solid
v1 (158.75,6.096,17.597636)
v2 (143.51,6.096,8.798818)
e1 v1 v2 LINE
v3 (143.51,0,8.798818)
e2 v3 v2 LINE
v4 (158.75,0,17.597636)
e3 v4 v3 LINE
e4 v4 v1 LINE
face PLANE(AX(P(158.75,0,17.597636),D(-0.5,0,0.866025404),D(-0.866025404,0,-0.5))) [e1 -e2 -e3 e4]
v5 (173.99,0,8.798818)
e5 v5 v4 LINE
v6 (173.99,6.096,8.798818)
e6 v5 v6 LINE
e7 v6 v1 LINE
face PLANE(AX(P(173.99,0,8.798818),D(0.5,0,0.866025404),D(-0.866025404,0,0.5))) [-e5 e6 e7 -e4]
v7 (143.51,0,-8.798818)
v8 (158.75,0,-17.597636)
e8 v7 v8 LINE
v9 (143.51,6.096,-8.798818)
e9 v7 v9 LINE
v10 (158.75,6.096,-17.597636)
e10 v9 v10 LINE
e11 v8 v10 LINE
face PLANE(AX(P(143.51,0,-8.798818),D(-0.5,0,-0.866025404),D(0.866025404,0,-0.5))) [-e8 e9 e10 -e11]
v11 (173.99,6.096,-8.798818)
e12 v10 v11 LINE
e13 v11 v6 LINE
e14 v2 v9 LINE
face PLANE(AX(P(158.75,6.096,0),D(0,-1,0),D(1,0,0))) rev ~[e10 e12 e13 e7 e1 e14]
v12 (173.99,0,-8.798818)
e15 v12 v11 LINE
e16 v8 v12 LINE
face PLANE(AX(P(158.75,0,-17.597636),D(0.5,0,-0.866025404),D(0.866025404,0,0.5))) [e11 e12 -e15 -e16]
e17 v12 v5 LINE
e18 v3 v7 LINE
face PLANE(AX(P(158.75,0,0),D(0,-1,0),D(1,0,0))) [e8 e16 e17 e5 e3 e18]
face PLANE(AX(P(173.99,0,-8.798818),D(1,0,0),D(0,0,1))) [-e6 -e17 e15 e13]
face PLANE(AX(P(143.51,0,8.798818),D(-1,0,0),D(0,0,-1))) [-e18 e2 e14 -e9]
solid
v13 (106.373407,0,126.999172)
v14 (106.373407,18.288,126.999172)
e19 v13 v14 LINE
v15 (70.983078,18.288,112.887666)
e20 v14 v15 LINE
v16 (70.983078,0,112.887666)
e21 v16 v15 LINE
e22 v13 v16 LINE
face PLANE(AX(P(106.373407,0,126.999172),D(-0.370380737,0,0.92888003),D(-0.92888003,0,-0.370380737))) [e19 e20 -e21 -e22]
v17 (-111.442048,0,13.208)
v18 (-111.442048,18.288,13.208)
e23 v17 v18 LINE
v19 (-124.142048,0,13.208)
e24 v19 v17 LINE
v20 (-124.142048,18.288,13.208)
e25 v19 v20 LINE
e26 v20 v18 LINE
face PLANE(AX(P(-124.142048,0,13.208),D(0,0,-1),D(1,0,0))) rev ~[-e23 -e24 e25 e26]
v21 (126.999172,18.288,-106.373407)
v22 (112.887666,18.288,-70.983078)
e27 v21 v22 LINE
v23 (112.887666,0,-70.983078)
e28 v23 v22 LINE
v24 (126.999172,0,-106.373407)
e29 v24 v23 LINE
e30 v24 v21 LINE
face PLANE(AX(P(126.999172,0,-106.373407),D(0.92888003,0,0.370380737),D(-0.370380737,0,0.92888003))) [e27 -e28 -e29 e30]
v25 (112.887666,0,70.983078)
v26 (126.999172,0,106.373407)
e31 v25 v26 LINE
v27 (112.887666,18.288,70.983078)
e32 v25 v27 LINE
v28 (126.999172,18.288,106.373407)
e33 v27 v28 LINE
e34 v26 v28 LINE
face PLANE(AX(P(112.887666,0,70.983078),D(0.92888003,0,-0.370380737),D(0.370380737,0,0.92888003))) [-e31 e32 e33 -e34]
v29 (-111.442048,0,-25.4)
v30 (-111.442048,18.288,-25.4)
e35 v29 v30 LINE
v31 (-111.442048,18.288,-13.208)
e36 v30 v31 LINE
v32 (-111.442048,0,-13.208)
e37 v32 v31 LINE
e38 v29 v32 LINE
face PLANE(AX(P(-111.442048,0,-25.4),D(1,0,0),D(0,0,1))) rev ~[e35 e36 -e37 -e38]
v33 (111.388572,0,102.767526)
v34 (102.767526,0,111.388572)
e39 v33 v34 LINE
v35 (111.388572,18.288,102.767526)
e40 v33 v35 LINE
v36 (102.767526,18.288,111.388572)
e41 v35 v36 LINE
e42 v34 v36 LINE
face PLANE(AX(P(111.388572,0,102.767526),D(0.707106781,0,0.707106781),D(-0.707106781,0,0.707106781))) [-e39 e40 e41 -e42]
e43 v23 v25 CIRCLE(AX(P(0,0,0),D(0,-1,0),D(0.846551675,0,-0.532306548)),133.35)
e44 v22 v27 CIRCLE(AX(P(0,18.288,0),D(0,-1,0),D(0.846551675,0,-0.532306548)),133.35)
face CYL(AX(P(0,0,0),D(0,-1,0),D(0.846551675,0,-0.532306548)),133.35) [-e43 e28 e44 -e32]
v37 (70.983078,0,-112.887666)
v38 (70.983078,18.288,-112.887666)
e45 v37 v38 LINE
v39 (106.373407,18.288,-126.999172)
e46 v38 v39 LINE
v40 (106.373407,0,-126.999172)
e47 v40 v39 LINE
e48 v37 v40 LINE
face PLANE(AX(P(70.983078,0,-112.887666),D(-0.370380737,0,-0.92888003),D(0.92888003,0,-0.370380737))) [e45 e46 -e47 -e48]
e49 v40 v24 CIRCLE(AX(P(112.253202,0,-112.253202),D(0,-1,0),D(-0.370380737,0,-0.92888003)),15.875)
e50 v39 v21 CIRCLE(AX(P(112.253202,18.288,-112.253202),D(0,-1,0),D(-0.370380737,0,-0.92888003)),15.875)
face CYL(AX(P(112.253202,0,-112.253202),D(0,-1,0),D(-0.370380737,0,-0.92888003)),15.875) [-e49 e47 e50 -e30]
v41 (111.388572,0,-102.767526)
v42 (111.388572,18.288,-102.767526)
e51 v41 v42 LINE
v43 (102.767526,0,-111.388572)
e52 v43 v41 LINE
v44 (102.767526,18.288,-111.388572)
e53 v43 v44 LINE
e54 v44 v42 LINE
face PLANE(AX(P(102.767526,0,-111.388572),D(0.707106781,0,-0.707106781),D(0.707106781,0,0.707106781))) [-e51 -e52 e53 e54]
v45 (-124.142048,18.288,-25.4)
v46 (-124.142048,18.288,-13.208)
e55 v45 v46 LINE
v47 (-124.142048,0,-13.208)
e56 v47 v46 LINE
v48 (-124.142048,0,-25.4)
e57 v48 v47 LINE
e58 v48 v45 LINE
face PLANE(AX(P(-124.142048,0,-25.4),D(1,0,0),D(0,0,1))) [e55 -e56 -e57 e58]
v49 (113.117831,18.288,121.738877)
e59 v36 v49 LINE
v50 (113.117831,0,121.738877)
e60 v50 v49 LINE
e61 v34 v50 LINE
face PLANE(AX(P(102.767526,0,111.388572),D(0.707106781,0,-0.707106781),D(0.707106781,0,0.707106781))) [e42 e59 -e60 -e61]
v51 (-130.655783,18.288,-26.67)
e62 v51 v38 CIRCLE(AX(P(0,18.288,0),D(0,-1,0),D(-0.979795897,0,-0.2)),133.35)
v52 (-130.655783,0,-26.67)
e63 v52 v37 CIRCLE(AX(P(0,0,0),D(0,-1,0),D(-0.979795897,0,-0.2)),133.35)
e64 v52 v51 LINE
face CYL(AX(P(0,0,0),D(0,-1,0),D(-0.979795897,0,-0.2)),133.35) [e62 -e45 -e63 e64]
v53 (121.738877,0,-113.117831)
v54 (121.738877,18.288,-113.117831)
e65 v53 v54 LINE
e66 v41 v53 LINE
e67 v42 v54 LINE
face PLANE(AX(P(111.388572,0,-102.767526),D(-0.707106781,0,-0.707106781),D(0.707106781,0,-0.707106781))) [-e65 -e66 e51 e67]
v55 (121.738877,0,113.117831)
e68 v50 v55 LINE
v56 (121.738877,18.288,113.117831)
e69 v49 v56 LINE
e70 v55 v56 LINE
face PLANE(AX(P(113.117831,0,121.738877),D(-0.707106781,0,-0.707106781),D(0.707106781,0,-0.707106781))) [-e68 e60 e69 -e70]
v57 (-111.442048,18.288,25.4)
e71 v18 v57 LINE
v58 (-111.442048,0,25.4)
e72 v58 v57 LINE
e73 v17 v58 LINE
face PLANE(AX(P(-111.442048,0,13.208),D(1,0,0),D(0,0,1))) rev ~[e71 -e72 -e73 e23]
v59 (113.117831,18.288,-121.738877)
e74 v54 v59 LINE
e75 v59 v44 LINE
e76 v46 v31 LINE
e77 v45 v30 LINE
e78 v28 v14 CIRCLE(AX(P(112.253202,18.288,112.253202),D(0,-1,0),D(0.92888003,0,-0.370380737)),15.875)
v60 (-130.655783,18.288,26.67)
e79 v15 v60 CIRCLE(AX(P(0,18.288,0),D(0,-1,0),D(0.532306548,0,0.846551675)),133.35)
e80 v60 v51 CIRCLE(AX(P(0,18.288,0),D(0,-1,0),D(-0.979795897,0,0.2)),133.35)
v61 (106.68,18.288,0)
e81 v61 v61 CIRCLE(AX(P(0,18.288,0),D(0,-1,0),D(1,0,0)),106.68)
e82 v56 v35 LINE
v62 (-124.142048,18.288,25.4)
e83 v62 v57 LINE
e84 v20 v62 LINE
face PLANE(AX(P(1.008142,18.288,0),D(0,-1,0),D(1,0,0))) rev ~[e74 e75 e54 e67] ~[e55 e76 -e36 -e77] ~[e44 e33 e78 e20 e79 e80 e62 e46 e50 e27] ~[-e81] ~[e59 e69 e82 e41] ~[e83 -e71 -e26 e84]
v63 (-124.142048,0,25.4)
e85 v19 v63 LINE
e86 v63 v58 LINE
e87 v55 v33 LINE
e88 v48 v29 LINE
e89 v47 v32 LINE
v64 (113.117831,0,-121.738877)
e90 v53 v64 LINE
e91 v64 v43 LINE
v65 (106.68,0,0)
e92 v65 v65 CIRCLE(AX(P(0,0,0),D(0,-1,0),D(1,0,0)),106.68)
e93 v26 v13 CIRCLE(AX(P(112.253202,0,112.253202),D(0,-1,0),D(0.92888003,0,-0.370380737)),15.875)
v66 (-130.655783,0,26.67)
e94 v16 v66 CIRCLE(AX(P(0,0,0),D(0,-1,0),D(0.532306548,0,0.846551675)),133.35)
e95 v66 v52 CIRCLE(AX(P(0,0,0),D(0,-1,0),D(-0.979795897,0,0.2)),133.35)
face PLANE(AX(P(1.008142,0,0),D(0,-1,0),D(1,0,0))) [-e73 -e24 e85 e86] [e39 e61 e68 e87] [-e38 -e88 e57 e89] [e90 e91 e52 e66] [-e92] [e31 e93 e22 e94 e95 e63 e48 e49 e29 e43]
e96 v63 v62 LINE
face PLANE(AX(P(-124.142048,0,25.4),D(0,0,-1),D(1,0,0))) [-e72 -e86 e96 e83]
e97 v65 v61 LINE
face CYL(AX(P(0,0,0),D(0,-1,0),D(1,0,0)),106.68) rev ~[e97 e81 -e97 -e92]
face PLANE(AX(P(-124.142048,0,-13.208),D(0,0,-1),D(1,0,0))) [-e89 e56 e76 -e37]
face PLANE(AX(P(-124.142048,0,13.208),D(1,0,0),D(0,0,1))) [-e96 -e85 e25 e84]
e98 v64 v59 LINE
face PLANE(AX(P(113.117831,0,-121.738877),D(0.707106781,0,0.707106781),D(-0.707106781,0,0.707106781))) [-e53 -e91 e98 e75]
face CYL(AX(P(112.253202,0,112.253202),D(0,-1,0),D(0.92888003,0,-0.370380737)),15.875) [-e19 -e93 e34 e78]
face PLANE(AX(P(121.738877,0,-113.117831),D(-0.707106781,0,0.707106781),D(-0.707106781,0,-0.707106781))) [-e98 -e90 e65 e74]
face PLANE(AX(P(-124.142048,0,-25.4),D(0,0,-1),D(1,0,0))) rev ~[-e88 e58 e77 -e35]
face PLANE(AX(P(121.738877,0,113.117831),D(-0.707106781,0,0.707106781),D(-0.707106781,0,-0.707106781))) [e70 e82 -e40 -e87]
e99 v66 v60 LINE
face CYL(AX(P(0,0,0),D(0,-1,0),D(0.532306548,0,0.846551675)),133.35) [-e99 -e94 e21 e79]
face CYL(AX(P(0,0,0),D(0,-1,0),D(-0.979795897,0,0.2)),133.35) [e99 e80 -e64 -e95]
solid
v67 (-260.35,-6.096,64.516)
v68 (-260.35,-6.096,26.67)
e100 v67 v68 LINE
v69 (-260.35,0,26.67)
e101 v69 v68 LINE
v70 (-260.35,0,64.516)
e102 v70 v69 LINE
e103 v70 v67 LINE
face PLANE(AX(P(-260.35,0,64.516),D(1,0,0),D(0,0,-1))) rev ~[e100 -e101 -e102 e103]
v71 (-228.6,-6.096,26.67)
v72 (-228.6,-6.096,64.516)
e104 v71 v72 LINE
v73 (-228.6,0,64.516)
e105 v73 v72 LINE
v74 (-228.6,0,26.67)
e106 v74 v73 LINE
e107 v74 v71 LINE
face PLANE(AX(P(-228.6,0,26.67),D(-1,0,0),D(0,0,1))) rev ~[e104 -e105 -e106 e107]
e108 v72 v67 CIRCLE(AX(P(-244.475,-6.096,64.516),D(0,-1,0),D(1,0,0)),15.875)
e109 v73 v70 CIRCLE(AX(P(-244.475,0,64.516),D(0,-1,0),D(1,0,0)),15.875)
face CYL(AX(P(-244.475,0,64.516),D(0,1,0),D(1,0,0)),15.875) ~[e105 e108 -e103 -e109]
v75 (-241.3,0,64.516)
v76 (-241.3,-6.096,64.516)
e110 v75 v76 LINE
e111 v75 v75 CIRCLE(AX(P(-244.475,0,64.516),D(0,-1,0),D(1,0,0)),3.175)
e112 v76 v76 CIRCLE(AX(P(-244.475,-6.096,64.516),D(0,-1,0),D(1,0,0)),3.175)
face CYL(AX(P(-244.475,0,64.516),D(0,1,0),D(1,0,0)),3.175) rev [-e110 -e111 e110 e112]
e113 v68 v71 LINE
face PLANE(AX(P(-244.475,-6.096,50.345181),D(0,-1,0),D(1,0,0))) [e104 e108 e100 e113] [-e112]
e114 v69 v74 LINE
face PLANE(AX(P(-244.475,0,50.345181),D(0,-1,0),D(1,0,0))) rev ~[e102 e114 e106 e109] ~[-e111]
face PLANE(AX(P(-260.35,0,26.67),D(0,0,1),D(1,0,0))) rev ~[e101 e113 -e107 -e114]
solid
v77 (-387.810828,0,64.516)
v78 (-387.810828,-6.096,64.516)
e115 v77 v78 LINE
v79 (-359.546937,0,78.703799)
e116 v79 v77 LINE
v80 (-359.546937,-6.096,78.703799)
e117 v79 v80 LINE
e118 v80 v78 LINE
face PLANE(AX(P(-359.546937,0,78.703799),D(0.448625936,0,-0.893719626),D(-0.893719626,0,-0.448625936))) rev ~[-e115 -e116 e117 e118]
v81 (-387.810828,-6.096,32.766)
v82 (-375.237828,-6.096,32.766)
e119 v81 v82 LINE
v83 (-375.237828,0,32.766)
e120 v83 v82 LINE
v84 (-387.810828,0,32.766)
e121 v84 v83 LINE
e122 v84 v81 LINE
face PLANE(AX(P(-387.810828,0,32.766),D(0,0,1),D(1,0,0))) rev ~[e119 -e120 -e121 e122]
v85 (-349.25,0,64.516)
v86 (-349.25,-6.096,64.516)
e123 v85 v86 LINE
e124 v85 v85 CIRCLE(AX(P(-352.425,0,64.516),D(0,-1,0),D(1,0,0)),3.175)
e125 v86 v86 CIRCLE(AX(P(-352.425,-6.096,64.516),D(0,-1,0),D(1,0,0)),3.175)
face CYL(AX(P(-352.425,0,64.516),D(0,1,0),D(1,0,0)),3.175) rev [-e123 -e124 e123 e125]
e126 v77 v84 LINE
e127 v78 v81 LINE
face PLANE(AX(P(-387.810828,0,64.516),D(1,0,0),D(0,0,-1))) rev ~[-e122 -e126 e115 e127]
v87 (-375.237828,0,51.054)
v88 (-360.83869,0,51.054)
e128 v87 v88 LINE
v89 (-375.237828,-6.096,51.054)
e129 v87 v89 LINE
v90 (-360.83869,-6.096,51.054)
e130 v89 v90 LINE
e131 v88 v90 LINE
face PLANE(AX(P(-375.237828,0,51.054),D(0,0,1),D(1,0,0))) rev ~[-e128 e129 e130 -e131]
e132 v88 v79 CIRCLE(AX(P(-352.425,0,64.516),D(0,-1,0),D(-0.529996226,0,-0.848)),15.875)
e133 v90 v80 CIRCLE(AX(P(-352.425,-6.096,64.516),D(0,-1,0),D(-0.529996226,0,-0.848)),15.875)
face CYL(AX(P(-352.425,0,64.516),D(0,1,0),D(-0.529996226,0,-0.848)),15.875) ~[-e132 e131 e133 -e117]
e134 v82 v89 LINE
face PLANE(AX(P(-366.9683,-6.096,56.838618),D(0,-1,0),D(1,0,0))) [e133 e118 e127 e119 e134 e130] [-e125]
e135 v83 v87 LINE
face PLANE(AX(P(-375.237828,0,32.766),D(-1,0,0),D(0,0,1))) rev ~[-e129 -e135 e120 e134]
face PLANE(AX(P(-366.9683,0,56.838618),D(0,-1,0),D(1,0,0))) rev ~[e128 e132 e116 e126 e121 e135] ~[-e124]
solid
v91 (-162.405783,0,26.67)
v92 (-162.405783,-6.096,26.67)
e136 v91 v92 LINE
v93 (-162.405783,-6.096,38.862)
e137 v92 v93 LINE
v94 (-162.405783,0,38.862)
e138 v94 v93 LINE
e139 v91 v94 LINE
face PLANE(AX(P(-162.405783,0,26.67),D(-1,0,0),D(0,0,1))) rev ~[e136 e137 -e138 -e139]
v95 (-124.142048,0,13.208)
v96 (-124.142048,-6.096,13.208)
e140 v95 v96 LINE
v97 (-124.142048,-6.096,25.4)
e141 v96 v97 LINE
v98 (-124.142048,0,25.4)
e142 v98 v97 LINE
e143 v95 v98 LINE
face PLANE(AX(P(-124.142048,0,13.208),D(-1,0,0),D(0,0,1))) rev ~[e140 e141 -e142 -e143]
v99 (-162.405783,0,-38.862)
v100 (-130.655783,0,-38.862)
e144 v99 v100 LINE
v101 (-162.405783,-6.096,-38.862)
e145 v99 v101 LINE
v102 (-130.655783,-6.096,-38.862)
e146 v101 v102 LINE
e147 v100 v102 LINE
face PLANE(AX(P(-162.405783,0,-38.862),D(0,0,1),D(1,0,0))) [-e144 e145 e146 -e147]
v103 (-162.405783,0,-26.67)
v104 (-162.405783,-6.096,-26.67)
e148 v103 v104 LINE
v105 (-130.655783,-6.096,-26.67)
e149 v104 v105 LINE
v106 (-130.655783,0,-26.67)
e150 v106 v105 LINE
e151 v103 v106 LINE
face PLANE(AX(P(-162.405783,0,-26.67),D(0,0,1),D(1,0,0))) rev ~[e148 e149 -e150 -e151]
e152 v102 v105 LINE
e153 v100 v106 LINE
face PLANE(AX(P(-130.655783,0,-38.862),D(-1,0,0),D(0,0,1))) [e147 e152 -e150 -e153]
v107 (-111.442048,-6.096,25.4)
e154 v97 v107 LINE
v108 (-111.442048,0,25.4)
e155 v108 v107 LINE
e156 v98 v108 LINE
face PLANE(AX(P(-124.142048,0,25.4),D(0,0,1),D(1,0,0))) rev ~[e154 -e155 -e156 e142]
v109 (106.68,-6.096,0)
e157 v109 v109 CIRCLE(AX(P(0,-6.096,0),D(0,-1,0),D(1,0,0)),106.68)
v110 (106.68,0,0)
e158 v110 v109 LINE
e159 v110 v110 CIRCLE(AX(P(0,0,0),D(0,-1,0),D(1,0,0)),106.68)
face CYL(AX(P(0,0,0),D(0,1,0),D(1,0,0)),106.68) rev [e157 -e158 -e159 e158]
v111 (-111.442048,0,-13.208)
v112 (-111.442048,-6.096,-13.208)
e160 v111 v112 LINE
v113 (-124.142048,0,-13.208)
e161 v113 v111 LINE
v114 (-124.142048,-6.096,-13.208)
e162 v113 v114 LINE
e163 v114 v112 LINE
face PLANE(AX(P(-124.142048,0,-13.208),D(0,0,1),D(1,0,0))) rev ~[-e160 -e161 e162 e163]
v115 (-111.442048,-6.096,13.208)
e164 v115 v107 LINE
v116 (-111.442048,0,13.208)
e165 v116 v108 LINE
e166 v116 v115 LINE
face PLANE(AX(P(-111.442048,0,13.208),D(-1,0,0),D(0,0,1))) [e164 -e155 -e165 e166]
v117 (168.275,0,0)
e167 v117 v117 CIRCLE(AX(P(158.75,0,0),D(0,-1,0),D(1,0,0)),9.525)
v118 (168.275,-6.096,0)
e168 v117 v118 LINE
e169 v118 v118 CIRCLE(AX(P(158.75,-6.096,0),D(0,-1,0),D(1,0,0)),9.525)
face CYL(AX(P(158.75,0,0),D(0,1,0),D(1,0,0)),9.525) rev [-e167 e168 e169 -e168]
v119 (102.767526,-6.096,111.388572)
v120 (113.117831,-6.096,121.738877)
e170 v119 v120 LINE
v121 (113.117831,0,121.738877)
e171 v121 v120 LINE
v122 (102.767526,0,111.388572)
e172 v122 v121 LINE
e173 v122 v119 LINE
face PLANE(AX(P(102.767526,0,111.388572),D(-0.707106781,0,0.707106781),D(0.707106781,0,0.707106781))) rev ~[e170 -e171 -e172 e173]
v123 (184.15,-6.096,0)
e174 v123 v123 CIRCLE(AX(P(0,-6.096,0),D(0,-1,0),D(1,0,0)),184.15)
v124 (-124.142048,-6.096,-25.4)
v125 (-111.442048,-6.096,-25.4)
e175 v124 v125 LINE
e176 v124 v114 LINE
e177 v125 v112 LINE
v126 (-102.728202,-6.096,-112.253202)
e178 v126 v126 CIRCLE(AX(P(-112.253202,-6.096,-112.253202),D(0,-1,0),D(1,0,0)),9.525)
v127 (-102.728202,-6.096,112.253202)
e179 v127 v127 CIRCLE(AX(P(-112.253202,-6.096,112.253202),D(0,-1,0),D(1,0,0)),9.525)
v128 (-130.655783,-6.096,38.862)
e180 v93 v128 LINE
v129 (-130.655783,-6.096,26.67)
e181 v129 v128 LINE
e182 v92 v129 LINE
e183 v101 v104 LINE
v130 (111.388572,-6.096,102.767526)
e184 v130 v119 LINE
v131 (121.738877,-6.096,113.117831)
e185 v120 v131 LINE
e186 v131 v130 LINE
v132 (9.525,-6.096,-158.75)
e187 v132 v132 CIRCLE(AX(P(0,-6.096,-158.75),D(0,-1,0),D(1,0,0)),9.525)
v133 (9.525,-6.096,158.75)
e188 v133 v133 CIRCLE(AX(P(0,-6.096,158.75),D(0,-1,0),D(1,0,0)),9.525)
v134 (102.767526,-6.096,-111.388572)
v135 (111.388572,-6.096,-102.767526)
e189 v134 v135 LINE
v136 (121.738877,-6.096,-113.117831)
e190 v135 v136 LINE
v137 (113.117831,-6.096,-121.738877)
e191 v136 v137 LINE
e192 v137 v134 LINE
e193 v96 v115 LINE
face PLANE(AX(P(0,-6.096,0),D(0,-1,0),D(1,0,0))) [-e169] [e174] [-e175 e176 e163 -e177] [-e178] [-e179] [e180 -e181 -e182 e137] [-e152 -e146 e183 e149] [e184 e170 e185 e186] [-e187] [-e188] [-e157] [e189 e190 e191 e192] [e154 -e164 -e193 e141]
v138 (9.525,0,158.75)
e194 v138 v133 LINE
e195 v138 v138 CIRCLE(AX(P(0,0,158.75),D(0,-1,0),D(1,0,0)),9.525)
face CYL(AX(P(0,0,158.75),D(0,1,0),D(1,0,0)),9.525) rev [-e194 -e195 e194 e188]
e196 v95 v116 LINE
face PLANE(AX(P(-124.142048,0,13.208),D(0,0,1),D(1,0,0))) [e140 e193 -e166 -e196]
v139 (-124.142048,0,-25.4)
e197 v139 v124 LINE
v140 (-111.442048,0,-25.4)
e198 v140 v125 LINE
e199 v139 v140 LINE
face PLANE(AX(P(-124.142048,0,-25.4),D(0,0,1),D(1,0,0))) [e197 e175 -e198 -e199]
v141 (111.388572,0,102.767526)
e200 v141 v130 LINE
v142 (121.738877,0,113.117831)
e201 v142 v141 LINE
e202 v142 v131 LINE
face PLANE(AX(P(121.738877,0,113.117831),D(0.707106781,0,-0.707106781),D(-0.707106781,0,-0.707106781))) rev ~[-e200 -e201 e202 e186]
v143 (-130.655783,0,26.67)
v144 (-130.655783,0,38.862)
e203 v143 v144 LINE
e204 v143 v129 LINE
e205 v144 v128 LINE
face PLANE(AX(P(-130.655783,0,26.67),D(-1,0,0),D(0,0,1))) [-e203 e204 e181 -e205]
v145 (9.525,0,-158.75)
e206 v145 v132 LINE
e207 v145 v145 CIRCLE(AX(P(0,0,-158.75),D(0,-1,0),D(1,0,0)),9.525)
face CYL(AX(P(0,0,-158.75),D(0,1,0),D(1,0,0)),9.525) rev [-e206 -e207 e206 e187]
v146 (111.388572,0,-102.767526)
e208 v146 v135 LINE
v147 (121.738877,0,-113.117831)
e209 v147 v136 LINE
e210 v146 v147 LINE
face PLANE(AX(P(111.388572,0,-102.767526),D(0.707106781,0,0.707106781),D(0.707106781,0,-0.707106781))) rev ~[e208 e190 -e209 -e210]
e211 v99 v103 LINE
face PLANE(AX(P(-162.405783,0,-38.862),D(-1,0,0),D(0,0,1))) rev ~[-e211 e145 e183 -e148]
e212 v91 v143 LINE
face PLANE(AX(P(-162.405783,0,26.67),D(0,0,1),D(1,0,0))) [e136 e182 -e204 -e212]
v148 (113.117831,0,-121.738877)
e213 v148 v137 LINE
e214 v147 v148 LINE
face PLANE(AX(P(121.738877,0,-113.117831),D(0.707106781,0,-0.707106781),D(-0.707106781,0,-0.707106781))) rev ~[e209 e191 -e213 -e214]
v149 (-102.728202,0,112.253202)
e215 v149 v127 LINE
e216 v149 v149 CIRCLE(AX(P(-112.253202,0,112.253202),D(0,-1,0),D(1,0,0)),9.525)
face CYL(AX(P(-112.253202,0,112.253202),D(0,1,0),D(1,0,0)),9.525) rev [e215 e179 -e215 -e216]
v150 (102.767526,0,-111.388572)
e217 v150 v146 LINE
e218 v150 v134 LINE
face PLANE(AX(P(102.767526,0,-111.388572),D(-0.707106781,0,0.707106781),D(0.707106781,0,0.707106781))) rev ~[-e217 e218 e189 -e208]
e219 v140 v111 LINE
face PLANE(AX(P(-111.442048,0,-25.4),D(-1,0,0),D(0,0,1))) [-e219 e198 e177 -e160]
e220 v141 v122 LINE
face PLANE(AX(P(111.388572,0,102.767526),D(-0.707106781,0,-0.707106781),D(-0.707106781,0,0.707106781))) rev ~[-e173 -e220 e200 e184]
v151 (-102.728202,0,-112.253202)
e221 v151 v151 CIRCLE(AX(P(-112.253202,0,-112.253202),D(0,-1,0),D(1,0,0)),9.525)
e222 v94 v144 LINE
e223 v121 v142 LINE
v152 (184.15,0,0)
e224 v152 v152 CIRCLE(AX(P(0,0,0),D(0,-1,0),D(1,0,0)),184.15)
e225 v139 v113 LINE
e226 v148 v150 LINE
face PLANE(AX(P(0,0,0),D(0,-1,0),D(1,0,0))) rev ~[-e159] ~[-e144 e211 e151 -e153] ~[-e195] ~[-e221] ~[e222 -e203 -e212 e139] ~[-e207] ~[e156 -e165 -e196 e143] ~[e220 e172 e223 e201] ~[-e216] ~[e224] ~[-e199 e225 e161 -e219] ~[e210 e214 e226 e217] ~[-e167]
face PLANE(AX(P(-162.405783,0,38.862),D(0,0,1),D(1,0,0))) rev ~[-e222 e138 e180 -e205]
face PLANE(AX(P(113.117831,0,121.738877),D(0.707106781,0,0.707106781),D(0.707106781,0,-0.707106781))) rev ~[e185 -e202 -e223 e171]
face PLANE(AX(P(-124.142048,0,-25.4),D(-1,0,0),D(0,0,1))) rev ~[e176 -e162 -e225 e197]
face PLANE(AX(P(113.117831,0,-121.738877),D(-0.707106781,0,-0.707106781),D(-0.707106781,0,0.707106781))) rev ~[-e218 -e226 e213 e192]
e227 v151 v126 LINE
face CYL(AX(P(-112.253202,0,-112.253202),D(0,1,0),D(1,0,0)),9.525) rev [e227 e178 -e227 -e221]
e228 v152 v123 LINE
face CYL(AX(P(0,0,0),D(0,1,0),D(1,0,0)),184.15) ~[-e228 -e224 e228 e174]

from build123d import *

# Parameters (mm, degrees)
F0_R     = 3.175
F1_DEPTH = 6.096
F0_R_2   = 184.15
F0_R_3   = 9.525
F0_W     = 31.75
F0_H     = 12.192
F0_W_2   = 12.7
F0_R_4   = 106.68
F2_DEPTH = 18.288
F3_DEPTH = 6.096


with BuildPart() as f1:
    # F0 (on Front) → F1 (new body)
    with BuildSketch(Plane.XZ):
        with BuildLine():
            Line((-375.2378275289, 51.054), (-360.8386900941, 51.054))
            ThreePointArc((-360.8386900941, 51.054), (-336.5672961231, 63.7751540287), (-359.5469367357, 78.7037990588))
            Line((-359.5469367357, 78.7037990588), (-387.8108275289, 64.516))
            Line((-387.8108275289, 64.516), (-387.8108275289, 51.054))
            Line((-387.8108275289, 51.054), (-387.8108275289, 32.766))
            Line((-387.8108275289, 32.766), (-375.2378275289, 32.766))
            Line((-375.2378275289, 32.766), (-375.2378275289, 51.054))
        make_face()
        with Locations((-352.425, 64.516)):
            Circle(F0_R, mode=Mode.SUBTRACT)
    extrude(amount=F1_DEPTH)


with BuildPart() as f1b:
    # F0 (on Front) → F1, piece 2 (new body)
    with BuildSketch(Plane.XZ):
        with BuildLine():
            Line((-260.35, 26.67), (-228.6, 26.67))
            Line((-228.6, 26.67), (-228.6, 64.516))
            ThreePointArc((-228.6, 64.516), (-244.475, 80.391), (-260.35, 64.516))
            Line((-260.35, 64.516), (-260.35, 26.67))
        make_face()
        with Locations((-244.475, 64.516)):
            Circle(F0_R, mode=Mode.SUBTRACT)
    extrude(amount=F1_DEPTH)


with BuildPart() as f1c:
    # F0 (on Front) → F1, piece 3 (new body)
    with BuildSketch(Plane.XZ):
        Circle(F0_R_2)
        with Locations((-112.2532015134, -112.2532015134)):
            Circle(F0_R_3, mode=Mode.SUBTRACT)
        with Locations((-146.5307828801, -32.766)):
            Rectangle(F0_W, F0_H, mode=Mode.SUBTRACT)
        with Locations((0, -158.75)):
            Circle(F0_R_3, mode=Mode.SUBTRACT)
        with BuildLine():
            ThreePointArc((-130.6557828801, 26.67), (-52.4268957675, 122.6117575936), (70.9830781801, 112.8876658988))
            Line((70.9830781801, 112.8876658988), (106.373407311, 126.9991719846))
            ThreePointArc((106.373407311, 126.9991719846), (123.4785216647, 123.4785216647), (126.9991719846, 106.373407311))
            Line((126.9991719846, 106.373407311), (112.8876658988, 70.9830781801))
            ThreePointArc((112.8876658988, 70.9830781801), (133.35, 0), (112.8876658988, -70.9830781801))
            Line((112.8876658988, -70.9830781801), (126.9991719846, -106.373407311))
            ThreePointArc((126.9991719846, -106.373407311), (123.4785216647, -123.4785216647), (106.373407311, -126.9991719846))
            Line((106.373407311, -126.9991719846), (70.9830781801, -112.8876658988))
            ThreePointArc((70.9830781801, -112.8876658988), (-52.4268957675, -122.6117575936), (-130.6557828801, -26.67))
            ThreePointArc((-130.6557828801, -26.67), (-133.35, 0), (-130.6557828801, 26.67))
        make_face(mode=Mode.SUBTRACT)
        Polygon((158.75, 17.5976362049), (173.99, 8.7988181024), (173.99, -8.7988181024), (158.75, -17.5976362049), (143.51, -8.7988181024), (143.51, 8.7988181024), align=None, mode=Mode.SUBTRACT)
        with Locations((-146.5307828801, 32.766)):
            Rectangle(F0_W, F0_H, mode=Mode.SUBTRACT)
        with Locations((-112.2532015134, 112.2532015134)):
            Circle(F0_R_3, mode=Mode.SUBTRACT)
        with Locations((0, 158.75)):
            Circle(F0_R_3, mode=Mode.SUBTRACT)
        with BuildLine():
            ThreePointArc((112.8876658988, 70.9830781801), (94.2926892712, 94.2926892712), (70.9830781801, 112.8876658988))
            ThreePointArc((70.9830781801, 112.8876658988), (-52.4268957675, 122.6117575936), (-130.6557828801, 26.67))
            ThreePointArc((-130.6557828801, 26.67), (-133.35, 0), (-130.6557828801, -26.67))
            ThreePointArc((-130.6557828801, -26.67), (-52.4268957675, -122.6117575936), (70.9830781801, -112.8876658988))
            ThreePointArc((70.9830781801, -112.8876658988), (94.2926892712, -94.2926892712), (112.8876658988, -70.9830781801))
            ThreePointArc((112.8876658988, -70.9830781801), (133.35, 0), (112.8876658988, 70.9830781801))
        make_face()
        with Locations((-117.7920477199, -19.304)):
            Rectangle(F0_W_2, F0_H, mode=Mode.SUBTRACT)
        Circle(F0_R_4, mode=Mode.SUBTRACT)
        with Locations((-117.7920477199, 19.304)):
            Rectangle(F0_W_2, F0_H, mode=Mode.SUBTRACT)
        with BuildLine():
            Line((106.373407311, 126.9991719846), (70.9830781801, 112.8876658988))
            ThreePointArc((70.9830781801, 112.8876658988), (94.2926892712, 94.2926892712), (112.8876658988, 70.9830781801))
            Line((112.8876658988, 70.9830781801), (126.9991719846, 106.373407311))
            ThreePointArc((126.9991719846, 106.373407311), (123.4785216647, 123.4785216647), (106.373407311, 126.9991719846))
        make_face()
        Polygon((111.388571845, 102.7675259688), (102.7675259688, 111.388571845), (113.1178311817, 121.7388770579), (121.7388770579, 113.1178311817), align=None, mode=Mode.SUBTRACT)
        with BuildLine():
            Line((126.9991719846, -106.373407311), (112.8876658988, -70.9830781801))
            ThreePointArc((112.8876658988, -70.9830781801), (94.2926892712, -94.2926892712), (70.9830781801, -112.8876658988))
            Line((70.9830781801, -112.8876658988), (106.373407311, -126.9991719846))
            ThreePointArc((106.373407311, -126.9991719846), (123.4785216647, -123.4785216647), (126.9991719846, -106.373407311))
        make_face()
        Polygon((121.7388770579, -113.1178311817), (113.1178311817, -121.7388770579), (102.7675259688, -111.388571845), (111.388571845, -102.7675259688), align=None, mode=Mode.SUBTRACT)
        Polygon((173.99, -8.7988181024), (173.99, 8.7988181024), (158.75, 17.5976362049), (143.51, 8.7988181024), (143.51, -8.7988181024), (158.75, -17.5976362049), align=None)
        with Locations((158.75, 0)):
            Circle(F0_R_3, mode=Mode.SUBTRACT)
    extrude(amount=F1_DEPTH)


with BuildPart() as f2:
    # F0 (on Front) → F2 (new body)
    with BuildSketch(Plane.XZ):
        with BuildLine():
            ThreePointArc((112.8876658988, 70.9830781801), (94.2926892712, 94.2926892712), (70.9830781801, 112.8876658988))
            ThreePointArc((70.9830781801, 112.8876658988), (-52.4268957675, 122.6117575936), (-130.6557828801, 26.67))
            ThreePointArc((-130.6557828801, 26.67), (-133.35, 0), (-130.6557828801, -26.67))
            ThreePointArc((-130.6557828801, -26.67), (-52.4268957675, -122.6117575936), (70.9830781801, -112.8876658988))
            ThreePointArc((70.9830781801, -112.8876658988), (94.2926892712, -94.2926892712), (112.8876658988, -70.9830781801))
            ThreePointArc((112.8876658988, -70.9830781801), (133.35, 0), (112.8876658988, 70.9830781801))
        make_face()
        with Locations((-117.7920477199, -19.304)):
            Rectangle(F0_W_2, F0_H, mode=Mode.SUBTRACT)
        Circle(F0_R_4, mode=Mode.SUBTRACT)
        with Locations((-117.7920477199, 19.304)):
            Rectangle(F0_W_2, F0_H, mode=Mode.SUBTRACT)
        with BuildLine():
            Line((106.373407311, 126.9991719846), (70.9830781801, 112.8876658988))
            ThreePointArc((70.9830781801, 112.8876658988), (94.2926892712, 94.2926892712), (112.8876658988, 70.9830781801))
            Line((112.8876658988, 70.9830781801), (126.9991719846, 106.373407311))
            ThreePointArc((126.9991719846, 106.373407311), (123.4785216647, 123.4785216647), (106.373407311, 126.9991719846))
        make_face()
        Polygon((111.388571845, 102.7675259688), (102.7675259688, 111.388571845), (113.1178311817, 121.7388770579), (121.7388770579, 113.1178311817), align=None, mode=Mode.SUBTRACT)
        with BuildLine():
            Line((126.9991719846, -106.373407311), (112.8876658988, -70.9830781801))
            ThreePointArc((112.8876658988, -70.9830781801), (94.2926892712, -94.2926892712), (70.9830781801, -112.8876658988))
            Line((70.9830781801, -112.8876658988), (106.373407311, -126.9991719846))
            ThreePointArc((106.373407311, -126.9991719846), (123.4785216647, -123.4785216647), (126.9991719846, -106.373407311))
        make_face()
        Polygon((121.7388770579, -113.1178311817), (113.1178311817, -121.7388770579), (102.7675259688, -111.388571845), (111.388571845, -102.7675259688), align=None, mode=Mode.SUBTRACT)
    extrude(amount=-F2_DEPTH)


with BuildPart() as f3:
    # F0 (on Front) → F3 (new body)
    with BuildSketch(Plane.XZ):
        Polygon((173.99, -8.7988181024), (173.99, 8.7988181024), (158.75, 17.5976362049), (143.51, 8.7988181024), (143.51, -8.7988181024), (158.75, -17.5976362049), align=None)
        with Locations((158.75, 0)):
            Circle(F0_R_3, mode=Mode.SUBTRACT)
        with Locations((158.75, 0)):
            Circle(F0_R_3)
    extrude(amount=-F3_DEPTH)


solid = Compound([f1.part, f1b.part, f1c.part, f2.part, f3.part])
